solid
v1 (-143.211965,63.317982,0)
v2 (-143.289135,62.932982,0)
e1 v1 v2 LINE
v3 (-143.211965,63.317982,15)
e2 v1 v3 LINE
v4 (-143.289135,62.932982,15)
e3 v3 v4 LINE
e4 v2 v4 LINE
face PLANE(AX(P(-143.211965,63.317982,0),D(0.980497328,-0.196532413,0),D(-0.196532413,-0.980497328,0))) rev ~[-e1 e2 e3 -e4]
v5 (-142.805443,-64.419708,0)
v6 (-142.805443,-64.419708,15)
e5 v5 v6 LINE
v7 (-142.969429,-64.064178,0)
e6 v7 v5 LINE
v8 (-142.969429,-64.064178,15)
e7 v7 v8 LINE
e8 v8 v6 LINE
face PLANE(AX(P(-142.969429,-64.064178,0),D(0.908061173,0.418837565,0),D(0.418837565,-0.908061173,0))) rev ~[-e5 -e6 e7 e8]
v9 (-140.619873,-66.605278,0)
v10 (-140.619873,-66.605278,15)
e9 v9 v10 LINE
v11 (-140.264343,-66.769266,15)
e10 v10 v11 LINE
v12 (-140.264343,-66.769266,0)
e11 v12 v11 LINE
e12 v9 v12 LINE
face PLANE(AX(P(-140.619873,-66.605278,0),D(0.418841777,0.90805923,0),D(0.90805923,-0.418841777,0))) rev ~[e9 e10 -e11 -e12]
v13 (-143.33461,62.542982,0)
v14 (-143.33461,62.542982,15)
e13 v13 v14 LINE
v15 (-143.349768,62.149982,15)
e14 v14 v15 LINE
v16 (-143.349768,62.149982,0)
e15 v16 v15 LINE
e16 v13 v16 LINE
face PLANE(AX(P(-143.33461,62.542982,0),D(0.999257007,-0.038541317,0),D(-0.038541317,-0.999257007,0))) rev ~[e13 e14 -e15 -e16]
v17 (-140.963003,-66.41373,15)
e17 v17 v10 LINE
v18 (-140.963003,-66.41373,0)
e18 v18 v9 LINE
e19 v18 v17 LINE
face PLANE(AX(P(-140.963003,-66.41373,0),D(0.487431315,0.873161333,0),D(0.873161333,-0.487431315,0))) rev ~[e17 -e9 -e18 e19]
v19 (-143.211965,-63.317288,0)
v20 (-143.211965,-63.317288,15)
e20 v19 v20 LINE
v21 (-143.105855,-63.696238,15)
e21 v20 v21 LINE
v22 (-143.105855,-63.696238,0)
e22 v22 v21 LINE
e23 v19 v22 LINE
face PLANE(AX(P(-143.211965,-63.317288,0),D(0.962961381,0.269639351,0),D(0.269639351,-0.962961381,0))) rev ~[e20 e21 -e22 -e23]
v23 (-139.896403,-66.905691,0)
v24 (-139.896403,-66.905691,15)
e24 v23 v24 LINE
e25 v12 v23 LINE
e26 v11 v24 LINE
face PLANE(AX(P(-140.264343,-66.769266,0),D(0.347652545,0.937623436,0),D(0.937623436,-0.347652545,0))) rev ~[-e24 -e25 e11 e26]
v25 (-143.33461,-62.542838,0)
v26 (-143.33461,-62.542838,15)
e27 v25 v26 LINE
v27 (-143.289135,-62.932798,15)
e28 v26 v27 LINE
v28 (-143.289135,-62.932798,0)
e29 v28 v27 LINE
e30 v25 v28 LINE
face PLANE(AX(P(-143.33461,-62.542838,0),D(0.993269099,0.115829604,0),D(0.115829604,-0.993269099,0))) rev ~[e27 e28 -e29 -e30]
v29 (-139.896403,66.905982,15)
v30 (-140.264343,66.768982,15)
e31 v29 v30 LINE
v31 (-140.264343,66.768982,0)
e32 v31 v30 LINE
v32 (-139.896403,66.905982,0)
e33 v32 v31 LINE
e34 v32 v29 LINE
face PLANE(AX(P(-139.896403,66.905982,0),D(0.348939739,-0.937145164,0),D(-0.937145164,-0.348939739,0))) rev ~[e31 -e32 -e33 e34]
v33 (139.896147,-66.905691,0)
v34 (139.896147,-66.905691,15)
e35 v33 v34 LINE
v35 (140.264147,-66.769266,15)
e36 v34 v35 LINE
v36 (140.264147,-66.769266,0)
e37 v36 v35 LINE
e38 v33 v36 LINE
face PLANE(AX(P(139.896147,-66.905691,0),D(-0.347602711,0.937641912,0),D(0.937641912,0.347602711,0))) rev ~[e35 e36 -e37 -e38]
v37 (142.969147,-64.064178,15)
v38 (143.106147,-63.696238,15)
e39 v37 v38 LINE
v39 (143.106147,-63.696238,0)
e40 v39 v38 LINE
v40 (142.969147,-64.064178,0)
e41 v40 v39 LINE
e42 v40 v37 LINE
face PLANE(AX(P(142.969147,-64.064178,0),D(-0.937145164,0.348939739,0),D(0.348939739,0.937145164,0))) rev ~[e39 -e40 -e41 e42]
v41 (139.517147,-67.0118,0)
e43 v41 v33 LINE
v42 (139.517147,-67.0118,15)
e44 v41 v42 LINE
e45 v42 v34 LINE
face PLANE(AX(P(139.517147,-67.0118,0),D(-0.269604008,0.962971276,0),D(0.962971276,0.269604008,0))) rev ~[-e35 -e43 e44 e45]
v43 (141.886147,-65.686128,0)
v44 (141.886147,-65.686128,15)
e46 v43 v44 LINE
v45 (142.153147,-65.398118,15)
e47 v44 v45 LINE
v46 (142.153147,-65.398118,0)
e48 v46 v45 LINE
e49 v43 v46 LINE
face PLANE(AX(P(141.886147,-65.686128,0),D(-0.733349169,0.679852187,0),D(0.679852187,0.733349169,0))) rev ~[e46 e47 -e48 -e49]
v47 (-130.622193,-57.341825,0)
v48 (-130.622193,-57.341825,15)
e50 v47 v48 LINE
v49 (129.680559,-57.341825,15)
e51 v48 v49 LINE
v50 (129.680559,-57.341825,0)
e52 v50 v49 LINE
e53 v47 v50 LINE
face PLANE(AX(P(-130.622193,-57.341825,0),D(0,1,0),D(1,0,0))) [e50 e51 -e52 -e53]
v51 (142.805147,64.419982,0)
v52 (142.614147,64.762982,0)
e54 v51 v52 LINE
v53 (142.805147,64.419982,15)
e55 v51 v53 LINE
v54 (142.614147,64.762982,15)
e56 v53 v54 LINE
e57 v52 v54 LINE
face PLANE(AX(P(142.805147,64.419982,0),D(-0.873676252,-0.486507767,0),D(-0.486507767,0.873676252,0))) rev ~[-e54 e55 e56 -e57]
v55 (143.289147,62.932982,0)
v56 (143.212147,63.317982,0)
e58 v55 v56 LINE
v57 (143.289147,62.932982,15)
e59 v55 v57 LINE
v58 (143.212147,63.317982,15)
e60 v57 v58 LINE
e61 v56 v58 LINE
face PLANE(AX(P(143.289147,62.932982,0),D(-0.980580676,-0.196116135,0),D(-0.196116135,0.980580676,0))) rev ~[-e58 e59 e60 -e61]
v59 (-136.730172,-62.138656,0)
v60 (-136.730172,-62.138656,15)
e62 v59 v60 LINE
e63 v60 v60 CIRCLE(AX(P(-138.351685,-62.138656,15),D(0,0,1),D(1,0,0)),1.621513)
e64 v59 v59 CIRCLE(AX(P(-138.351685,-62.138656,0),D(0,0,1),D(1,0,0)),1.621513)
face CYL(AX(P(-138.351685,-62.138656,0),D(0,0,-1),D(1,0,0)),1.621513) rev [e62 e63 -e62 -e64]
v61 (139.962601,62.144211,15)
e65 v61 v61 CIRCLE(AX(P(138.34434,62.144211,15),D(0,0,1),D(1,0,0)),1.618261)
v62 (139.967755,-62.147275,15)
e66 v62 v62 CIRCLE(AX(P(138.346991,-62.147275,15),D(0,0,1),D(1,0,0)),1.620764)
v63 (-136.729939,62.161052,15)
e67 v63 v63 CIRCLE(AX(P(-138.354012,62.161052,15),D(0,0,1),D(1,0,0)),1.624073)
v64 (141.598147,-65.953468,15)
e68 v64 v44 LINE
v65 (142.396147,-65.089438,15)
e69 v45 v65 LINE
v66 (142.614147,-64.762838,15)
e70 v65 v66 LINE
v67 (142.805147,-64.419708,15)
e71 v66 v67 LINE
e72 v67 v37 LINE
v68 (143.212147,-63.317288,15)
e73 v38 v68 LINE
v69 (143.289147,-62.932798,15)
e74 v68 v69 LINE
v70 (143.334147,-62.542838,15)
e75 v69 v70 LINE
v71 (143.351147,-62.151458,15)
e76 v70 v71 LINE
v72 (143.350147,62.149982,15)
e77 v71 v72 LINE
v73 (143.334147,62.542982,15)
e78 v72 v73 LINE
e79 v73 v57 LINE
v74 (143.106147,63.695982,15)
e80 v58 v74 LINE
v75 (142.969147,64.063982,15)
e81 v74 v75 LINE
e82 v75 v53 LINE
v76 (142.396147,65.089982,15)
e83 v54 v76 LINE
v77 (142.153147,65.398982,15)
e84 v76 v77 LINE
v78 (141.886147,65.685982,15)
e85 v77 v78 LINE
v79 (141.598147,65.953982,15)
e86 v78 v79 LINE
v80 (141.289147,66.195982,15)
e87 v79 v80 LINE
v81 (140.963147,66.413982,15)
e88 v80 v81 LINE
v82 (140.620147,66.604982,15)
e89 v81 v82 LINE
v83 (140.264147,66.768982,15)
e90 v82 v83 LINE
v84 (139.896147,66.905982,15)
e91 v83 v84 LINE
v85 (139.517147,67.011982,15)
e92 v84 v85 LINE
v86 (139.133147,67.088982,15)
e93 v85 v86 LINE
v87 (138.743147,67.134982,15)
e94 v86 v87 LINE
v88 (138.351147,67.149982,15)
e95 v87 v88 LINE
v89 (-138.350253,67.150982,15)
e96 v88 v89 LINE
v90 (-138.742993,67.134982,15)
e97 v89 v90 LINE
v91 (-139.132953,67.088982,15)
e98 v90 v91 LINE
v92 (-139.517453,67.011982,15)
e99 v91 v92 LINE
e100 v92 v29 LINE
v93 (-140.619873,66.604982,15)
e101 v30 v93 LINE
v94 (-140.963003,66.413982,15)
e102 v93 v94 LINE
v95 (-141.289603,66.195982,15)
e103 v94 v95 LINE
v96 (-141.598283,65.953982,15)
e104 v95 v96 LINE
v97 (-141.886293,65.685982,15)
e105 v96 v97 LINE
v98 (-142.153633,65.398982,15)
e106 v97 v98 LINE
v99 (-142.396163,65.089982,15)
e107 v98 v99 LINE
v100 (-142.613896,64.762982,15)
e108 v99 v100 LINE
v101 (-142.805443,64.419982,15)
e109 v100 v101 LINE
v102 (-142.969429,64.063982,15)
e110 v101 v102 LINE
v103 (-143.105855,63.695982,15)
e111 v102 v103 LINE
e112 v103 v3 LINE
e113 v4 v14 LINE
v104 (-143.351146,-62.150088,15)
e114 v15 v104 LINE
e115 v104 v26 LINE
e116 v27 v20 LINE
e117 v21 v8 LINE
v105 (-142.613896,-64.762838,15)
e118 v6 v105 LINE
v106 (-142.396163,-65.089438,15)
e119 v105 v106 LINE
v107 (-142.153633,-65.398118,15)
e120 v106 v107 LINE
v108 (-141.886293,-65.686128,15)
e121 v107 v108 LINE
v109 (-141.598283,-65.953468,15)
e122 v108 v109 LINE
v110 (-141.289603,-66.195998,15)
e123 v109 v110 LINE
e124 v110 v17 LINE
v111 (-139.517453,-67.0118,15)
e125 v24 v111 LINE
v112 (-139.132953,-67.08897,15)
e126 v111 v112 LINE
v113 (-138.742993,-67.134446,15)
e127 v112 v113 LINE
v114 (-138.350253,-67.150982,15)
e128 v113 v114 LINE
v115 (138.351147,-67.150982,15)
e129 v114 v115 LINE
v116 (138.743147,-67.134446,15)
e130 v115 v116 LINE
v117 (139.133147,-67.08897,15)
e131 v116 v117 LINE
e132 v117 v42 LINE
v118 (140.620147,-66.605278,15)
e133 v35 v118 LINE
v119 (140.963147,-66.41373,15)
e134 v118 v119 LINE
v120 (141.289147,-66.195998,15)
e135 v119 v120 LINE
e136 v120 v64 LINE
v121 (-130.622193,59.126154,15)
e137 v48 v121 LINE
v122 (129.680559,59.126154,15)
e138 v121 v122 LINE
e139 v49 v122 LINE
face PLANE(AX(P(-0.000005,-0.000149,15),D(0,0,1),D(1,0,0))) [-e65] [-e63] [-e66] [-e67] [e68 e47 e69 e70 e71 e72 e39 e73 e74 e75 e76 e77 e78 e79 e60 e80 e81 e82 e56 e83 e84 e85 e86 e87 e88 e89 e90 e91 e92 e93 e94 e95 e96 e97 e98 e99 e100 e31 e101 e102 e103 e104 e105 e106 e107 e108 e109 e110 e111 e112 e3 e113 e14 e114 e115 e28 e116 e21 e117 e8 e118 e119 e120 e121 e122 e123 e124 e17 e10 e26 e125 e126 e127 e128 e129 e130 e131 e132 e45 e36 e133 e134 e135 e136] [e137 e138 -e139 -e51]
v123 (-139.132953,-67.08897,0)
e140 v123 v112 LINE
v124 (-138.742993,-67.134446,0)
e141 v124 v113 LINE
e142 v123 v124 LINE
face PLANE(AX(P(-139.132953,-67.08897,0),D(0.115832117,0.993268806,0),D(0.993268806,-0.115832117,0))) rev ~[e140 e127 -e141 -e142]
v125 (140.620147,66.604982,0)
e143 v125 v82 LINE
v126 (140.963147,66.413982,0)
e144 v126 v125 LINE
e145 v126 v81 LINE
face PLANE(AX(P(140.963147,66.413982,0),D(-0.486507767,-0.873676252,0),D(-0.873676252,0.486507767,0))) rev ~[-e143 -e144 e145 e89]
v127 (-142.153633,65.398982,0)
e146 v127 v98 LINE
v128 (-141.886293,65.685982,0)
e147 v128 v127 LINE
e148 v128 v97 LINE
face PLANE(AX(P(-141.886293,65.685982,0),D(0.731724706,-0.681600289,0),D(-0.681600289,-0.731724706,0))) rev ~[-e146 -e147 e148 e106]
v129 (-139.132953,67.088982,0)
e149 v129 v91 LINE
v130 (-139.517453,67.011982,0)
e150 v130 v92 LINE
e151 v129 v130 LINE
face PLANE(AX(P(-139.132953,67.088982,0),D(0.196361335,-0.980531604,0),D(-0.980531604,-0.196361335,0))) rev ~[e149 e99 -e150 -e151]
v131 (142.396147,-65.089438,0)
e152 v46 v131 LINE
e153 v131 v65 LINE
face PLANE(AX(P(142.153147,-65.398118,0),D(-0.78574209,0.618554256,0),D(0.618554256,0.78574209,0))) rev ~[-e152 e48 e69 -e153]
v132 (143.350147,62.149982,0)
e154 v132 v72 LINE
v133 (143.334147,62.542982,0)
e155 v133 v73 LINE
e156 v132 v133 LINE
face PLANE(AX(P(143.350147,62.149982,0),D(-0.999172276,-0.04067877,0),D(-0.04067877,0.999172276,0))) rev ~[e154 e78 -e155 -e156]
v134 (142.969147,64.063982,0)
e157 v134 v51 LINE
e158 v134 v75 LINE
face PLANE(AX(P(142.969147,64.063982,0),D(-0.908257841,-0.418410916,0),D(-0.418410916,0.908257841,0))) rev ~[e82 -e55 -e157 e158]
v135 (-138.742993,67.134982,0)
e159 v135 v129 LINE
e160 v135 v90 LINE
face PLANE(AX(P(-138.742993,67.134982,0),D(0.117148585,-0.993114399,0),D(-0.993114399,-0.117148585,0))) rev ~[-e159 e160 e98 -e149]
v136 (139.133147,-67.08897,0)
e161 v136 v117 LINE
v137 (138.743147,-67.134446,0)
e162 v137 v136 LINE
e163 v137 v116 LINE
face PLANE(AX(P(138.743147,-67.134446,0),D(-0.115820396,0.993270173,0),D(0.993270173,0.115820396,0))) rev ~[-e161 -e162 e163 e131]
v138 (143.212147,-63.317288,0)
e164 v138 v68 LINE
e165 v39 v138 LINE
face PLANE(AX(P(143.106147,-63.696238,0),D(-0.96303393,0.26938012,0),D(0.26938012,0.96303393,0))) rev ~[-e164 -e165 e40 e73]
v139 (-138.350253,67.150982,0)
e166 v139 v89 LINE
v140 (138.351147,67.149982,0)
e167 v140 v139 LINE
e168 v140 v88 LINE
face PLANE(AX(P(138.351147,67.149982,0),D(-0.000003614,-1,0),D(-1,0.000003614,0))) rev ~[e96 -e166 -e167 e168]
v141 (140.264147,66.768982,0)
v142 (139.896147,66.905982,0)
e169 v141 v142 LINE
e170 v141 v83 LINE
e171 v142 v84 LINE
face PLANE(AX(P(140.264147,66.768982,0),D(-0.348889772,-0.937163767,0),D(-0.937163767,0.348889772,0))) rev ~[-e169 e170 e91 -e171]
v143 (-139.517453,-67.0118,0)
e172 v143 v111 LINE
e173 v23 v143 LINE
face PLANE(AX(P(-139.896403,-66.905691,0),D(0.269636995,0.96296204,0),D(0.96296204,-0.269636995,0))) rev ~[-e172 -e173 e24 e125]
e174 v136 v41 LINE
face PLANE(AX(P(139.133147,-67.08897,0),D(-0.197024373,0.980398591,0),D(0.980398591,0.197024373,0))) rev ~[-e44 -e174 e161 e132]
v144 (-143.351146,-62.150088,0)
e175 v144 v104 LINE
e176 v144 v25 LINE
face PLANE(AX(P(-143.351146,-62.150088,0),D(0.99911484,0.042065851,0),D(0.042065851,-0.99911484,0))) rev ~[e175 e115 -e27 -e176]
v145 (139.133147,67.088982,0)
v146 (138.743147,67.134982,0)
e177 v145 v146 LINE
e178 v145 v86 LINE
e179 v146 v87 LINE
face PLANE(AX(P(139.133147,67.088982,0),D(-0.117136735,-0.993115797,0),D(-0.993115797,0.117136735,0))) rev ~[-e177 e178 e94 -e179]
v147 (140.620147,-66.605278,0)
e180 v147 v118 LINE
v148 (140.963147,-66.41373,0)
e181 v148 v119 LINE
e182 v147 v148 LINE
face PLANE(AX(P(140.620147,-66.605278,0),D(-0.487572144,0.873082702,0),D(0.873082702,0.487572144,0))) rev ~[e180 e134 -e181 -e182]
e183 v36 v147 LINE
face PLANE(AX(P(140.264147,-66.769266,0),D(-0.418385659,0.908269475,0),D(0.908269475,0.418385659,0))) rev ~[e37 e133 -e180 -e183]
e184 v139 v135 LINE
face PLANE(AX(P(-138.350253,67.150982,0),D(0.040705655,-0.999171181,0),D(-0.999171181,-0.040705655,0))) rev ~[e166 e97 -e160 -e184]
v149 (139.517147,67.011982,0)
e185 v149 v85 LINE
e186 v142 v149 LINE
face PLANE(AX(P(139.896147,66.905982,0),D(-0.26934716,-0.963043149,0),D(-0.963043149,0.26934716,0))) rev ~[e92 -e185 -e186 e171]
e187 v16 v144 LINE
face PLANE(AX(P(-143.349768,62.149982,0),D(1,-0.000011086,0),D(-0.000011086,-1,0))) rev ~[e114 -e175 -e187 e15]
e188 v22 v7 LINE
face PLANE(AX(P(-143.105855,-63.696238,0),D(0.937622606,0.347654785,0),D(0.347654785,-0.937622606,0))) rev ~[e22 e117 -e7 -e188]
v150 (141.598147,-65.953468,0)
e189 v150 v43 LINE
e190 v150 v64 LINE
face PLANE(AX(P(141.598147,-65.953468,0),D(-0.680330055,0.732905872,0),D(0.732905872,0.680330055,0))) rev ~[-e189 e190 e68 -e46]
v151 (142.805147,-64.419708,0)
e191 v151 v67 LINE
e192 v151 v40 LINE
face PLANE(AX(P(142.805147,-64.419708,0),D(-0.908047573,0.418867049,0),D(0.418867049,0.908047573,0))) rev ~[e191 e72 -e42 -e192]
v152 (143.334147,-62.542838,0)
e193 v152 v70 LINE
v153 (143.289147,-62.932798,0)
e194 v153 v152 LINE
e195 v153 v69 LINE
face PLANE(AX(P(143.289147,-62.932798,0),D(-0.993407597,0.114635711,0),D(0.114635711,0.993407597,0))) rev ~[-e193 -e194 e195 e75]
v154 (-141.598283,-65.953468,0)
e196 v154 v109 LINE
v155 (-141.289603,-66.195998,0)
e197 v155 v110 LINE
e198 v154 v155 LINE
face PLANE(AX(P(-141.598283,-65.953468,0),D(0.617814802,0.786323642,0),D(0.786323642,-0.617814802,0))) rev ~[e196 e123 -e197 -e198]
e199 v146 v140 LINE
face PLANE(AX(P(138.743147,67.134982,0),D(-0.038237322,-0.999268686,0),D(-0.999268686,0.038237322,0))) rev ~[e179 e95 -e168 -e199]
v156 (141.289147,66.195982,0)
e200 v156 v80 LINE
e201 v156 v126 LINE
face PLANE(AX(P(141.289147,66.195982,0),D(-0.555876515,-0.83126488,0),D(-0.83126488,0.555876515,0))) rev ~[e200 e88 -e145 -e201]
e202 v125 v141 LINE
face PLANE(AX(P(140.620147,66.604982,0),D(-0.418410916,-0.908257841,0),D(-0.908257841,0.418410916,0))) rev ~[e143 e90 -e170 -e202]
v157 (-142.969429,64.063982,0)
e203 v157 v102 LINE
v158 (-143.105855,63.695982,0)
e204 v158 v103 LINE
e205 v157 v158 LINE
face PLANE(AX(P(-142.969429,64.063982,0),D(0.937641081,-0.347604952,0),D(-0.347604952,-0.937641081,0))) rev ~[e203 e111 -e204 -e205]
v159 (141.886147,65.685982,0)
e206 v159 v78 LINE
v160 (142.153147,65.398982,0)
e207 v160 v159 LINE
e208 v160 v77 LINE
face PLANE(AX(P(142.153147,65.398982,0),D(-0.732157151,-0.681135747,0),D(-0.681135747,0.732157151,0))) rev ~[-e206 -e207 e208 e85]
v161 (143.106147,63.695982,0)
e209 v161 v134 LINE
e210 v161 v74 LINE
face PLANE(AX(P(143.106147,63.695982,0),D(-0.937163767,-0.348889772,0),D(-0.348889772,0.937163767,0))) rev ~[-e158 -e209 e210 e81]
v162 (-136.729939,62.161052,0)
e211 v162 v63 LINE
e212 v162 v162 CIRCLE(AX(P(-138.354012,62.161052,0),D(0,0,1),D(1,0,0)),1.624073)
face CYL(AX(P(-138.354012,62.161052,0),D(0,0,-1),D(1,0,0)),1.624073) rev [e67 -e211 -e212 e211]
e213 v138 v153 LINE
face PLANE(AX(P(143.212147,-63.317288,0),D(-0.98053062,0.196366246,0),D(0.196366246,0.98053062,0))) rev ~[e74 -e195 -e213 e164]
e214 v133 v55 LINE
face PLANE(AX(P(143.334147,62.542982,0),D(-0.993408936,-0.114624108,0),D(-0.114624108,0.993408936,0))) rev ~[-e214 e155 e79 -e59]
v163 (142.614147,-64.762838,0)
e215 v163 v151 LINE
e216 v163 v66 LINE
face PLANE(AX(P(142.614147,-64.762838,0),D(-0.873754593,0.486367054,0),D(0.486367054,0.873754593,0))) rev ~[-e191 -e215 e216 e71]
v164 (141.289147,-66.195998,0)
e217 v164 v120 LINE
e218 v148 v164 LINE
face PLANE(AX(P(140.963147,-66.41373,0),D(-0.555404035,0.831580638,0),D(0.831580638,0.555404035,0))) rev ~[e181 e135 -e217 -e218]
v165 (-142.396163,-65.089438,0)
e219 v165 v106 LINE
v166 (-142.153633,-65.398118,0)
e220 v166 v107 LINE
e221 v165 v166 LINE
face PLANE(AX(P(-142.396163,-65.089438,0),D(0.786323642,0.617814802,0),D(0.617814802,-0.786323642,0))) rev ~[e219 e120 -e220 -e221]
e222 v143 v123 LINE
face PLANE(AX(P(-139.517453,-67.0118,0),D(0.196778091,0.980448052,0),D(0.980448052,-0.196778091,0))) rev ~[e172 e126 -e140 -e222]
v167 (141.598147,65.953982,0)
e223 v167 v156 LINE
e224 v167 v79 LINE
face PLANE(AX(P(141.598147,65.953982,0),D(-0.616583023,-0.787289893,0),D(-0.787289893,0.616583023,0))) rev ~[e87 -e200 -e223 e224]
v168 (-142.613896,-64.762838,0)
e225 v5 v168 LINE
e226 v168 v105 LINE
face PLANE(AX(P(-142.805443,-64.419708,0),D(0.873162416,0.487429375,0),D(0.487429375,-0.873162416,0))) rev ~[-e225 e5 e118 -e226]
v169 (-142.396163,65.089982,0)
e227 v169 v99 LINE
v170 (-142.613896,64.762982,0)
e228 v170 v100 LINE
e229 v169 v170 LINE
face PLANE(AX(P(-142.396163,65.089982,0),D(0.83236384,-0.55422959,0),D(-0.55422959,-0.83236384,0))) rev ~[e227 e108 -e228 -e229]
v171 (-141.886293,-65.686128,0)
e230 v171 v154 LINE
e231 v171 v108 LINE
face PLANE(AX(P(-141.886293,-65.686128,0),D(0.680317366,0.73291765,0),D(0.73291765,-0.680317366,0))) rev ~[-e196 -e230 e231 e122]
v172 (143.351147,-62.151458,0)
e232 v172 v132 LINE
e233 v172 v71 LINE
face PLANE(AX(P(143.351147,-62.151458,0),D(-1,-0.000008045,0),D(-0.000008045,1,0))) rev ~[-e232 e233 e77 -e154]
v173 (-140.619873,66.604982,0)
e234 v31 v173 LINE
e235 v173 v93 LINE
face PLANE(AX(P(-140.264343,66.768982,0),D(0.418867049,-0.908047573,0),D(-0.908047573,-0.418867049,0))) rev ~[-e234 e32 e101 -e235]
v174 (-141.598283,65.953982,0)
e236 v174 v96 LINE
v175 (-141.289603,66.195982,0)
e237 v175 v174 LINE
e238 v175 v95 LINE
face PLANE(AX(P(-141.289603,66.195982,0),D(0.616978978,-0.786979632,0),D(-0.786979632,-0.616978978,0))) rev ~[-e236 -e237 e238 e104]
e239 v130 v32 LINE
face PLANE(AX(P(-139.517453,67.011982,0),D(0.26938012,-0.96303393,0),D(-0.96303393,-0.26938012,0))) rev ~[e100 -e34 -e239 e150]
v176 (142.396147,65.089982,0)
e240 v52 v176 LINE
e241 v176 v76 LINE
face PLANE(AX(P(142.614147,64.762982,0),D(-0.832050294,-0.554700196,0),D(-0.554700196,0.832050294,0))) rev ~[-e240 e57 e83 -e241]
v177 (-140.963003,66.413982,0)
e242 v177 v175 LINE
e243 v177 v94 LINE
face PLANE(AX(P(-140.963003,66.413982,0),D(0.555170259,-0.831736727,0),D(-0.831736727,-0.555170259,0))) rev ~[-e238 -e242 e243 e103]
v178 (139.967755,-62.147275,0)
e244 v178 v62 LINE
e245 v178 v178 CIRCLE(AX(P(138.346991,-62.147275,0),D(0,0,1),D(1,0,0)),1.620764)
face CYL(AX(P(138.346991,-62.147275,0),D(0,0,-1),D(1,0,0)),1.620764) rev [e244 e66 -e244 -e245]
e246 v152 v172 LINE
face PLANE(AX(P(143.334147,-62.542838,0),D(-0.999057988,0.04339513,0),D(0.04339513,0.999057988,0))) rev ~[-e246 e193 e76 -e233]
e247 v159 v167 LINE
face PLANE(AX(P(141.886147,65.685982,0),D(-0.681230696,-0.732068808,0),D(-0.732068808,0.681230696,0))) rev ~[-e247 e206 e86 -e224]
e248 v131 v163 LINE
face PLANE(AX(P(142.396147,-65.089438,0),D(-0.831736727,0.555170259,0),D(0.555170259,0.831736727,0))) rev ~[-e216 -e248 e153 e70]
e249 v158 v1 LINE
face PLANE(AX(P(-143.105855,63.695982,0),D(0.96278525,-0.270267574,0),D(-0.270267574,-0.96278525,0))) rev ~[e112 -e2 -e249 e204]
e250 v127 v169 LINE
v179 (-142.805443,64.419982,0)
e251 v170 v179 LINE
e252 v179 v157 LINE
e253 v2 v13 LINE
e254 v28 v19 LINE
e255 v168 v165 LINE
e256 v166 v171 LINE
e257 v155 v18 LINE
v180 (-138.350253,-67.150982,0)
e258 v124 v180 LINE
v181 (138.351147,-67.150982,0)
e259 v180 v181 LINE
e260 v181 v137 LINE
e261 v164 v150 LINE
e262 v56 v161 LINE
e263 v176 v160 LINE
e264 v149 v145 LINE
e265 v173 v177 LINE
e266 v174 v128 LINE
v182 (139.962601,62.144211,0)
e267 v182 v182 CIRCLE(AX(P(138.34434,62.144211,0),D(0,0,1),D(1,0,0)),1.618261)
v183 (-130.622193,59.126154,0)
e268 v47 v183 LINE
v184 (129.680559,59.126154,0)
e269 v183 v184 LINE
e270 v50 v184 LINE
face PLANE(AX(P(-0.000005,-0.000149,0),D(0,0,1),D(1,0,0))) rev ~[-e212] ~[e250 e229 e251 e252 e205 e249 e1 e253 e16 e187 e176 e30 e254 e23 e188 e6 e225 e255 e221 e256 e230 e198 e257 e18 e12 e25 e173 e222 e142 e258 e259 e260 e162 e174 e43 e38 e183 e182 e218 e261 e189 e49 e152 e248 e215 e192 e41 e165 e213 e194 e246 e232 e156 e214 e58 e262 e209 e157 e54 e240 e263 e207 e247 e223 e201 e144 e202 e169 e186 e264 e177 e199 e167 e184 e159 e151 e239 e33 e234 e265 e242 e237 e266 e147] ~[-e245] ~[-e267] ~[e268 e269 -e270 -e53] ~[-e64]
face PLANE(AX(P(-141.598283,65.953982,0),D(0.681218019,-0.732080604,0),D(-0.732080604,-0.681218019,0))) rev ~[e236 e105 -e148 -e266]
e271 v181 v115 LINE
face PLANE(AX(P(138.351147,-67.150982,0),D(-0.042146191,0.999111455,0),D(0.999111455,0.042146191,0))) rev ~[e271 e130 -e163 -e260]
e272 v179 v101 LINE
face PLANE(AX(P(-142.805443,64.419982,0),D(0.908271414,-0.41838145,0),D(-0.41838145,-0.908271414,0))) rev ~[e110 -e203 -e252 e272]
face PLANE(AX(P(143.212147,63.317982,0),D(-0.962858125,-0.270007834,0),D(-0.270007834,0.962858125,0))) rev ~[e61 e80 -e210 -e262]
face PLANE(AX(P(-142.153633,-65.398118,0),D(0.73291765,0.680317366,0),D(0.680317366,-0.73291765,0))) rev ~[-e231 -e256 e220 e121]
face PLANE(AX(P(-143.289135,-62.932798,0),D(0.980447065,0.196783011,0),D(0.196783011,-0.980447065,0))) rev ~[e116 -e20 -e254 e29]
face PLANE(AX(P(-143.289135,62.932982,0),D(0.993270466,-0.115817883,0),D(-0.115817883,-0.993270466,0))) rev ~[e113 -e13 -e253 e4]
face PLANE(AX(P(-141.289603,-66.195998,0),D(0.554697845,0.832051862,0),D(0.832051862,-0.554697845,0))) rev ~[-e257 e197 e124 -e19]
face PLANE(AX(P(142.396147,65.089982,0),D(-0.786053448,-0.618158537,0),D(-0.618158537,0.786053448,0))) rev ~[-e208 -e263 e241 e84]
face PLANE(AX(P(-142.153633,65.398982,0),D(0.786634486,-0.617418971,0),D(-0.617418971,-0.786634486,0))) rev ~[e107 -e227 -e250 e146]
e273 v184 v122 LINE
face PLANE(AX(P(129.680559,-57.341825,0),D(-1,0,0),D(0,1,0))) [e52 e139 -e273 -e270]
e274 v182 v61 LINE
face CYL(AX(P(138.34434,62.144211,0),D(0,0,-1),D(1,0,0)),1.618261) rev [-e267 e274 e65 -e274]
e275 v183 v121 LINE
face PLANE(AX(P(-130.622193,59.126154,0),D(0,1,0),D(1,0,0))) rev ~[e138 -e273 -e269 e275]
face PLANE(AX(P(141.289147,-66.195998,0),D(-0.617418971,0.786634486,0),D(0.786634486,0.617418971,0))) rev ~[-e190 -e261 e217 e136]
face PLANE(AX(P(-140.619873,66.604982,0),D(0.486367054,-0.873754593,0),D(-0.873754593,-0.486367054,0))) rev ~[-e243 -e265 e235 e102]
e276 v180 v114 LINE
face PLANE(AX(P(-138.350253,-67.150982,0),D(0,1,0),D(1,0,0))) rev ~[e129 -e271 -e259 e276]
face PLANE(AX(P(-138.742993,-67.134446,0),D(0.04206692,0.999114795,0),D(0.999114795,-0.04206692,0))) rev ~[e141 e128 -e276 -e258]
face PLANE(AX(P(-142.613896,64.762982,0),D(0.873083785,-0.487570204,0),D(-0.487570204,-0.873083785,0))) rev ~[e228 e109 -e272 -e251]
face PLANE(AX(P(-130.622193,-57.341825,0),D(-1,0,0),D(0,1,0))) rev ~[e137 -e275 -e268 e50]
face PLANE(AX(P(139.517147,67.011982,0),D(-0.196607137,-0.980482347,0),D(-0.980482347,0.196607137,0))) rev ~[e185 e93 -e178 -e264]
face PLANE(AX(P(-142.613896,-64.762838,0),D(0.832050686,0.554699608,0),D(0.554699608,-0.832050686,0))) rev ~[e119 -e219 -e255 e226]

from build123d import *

# Parameters (mm, degrees)
F0_R     = 1.621513
F0_R_2   = 1.620764
F0_W     = 260.302752
F0_H     = 116.467979
F0_R_3   = 1.624073
F0_R_4   = 1.618261
F1_DEPTH = 15


with BuildPart() as f1:
    # F0 (on Top) → F1 (new body)
    with BuildSketch(Plane.XY):
        Polygon((138.743147, 67.134982), (138.351147, 67.149982), (-138.350253, 67.150982), (-138.742993, 67.134982), (-139.132953, 67.088982), (-139.517453, 67.011982), (-139.896403, 66.905982), (-140.264343, 66.768982), (-140.619873, 66.604982), (-140.963003, 66.413982), (-141.289603, 66.195982), (-141.598283, 65.953982), (-141.886293, 65.685982), (-142.153633, 65.398982), (-142.396163, 65.089982), (-142.613896, 64.762982), (-142.805443, 64.419982), (-142.969429, 64.063982), (-143.105855, 63.695982), (-143.211965, 63.317982), (-143.289135, 62.932982), (-143.33461, 62.542982), (-143.349768, 62.149982), (-143.351146, -62.150088), (-143.33461, -62.542838), (-143.289135, -62.932798), (-143.211965, -63.317288), (-143.105855, -63.696238), (-142.969429, -64.064178), (-142.805443, -64.419708), (-142.613896, -64.762838), (-142.396163, -65.089438), (-142.153633, -65.398118), (-141.886293, -65.686128), (-141.598283, -65.953468), (-141.289603, -66.195998), (-140.963003, -66.41373), (-140.619873, -66.605278), (-140.264343, -66.769266), (-139.896403, -66.905691), (-139.517453, -67.0118), (-139.132953, -67.08897), (-138.742993, -67.134446), (-138.350253, -67.150982), (138.351147, -67.150982), (138.743147, -67.134446), (139.133147, -67.08897), (139.517147, -67.0118), (139.896147, -66.905691), (140.264147, -66.769266), (140.620147, -66.605278), (140.963147, -66.41373), (141.289147, -66.195998), (141.598147, -65.953468), (141.886147, -65.686128), (142.153147, -65.398118), (142.396147, -65.089438), (142.614147, -64.762838), (142.805147, -64.419708), (142.969147, -64.064178), (143.106147, -63.696238), (143.212147, -63.317288), (143.289147, -62.932798), (143.334147, -62.542838), (143.351147, -62.151458), (143.350147, 62.149982), (143.334147, 62.542982), (143.289147, 62.932982), (143.212147, 63.317982), (143.106147, 63.695982), (142.969147, 64.063982), (142.805147, 64.419982), (142.614147, 64.762982), (142.396147, 65.089982), (142.153147, 65.398982), (141.886147, 65.685982), (141.598147, 65.953982), (141.289147, 66.195982), (140.963147, 66.413982), (140.620147, 66.604982), (140.264147, 66.768982), (139.896147, 66.905982), (139.517147, 67.011982), (139.133147, 67.088982), align=None)
        with Locations((-138.351685, -62.138656)):
            Circle(F0_R, mode=Mode.SUBTRACT)
        with Locations((138.346991, -62.147275)):
            Circle(F0_R_2, mode=Mode.SUBTRACT)
        with Locations((-0.470817, 0.892164)):
            Rectangle(F0_W, F0_H, mode=Mode.SUBTRACT)
        with Locations((-138.354012, 62.161052)):
            Circle(F0_R_3, mode=Mode.SUBTRACT)
        with Locations((138.34434, 62.144211)):
            Circle(F0_R_4, mode=Mode.SUBTRACT)
    extrude(amount=F1_DEPTH)


solid = f1.part
